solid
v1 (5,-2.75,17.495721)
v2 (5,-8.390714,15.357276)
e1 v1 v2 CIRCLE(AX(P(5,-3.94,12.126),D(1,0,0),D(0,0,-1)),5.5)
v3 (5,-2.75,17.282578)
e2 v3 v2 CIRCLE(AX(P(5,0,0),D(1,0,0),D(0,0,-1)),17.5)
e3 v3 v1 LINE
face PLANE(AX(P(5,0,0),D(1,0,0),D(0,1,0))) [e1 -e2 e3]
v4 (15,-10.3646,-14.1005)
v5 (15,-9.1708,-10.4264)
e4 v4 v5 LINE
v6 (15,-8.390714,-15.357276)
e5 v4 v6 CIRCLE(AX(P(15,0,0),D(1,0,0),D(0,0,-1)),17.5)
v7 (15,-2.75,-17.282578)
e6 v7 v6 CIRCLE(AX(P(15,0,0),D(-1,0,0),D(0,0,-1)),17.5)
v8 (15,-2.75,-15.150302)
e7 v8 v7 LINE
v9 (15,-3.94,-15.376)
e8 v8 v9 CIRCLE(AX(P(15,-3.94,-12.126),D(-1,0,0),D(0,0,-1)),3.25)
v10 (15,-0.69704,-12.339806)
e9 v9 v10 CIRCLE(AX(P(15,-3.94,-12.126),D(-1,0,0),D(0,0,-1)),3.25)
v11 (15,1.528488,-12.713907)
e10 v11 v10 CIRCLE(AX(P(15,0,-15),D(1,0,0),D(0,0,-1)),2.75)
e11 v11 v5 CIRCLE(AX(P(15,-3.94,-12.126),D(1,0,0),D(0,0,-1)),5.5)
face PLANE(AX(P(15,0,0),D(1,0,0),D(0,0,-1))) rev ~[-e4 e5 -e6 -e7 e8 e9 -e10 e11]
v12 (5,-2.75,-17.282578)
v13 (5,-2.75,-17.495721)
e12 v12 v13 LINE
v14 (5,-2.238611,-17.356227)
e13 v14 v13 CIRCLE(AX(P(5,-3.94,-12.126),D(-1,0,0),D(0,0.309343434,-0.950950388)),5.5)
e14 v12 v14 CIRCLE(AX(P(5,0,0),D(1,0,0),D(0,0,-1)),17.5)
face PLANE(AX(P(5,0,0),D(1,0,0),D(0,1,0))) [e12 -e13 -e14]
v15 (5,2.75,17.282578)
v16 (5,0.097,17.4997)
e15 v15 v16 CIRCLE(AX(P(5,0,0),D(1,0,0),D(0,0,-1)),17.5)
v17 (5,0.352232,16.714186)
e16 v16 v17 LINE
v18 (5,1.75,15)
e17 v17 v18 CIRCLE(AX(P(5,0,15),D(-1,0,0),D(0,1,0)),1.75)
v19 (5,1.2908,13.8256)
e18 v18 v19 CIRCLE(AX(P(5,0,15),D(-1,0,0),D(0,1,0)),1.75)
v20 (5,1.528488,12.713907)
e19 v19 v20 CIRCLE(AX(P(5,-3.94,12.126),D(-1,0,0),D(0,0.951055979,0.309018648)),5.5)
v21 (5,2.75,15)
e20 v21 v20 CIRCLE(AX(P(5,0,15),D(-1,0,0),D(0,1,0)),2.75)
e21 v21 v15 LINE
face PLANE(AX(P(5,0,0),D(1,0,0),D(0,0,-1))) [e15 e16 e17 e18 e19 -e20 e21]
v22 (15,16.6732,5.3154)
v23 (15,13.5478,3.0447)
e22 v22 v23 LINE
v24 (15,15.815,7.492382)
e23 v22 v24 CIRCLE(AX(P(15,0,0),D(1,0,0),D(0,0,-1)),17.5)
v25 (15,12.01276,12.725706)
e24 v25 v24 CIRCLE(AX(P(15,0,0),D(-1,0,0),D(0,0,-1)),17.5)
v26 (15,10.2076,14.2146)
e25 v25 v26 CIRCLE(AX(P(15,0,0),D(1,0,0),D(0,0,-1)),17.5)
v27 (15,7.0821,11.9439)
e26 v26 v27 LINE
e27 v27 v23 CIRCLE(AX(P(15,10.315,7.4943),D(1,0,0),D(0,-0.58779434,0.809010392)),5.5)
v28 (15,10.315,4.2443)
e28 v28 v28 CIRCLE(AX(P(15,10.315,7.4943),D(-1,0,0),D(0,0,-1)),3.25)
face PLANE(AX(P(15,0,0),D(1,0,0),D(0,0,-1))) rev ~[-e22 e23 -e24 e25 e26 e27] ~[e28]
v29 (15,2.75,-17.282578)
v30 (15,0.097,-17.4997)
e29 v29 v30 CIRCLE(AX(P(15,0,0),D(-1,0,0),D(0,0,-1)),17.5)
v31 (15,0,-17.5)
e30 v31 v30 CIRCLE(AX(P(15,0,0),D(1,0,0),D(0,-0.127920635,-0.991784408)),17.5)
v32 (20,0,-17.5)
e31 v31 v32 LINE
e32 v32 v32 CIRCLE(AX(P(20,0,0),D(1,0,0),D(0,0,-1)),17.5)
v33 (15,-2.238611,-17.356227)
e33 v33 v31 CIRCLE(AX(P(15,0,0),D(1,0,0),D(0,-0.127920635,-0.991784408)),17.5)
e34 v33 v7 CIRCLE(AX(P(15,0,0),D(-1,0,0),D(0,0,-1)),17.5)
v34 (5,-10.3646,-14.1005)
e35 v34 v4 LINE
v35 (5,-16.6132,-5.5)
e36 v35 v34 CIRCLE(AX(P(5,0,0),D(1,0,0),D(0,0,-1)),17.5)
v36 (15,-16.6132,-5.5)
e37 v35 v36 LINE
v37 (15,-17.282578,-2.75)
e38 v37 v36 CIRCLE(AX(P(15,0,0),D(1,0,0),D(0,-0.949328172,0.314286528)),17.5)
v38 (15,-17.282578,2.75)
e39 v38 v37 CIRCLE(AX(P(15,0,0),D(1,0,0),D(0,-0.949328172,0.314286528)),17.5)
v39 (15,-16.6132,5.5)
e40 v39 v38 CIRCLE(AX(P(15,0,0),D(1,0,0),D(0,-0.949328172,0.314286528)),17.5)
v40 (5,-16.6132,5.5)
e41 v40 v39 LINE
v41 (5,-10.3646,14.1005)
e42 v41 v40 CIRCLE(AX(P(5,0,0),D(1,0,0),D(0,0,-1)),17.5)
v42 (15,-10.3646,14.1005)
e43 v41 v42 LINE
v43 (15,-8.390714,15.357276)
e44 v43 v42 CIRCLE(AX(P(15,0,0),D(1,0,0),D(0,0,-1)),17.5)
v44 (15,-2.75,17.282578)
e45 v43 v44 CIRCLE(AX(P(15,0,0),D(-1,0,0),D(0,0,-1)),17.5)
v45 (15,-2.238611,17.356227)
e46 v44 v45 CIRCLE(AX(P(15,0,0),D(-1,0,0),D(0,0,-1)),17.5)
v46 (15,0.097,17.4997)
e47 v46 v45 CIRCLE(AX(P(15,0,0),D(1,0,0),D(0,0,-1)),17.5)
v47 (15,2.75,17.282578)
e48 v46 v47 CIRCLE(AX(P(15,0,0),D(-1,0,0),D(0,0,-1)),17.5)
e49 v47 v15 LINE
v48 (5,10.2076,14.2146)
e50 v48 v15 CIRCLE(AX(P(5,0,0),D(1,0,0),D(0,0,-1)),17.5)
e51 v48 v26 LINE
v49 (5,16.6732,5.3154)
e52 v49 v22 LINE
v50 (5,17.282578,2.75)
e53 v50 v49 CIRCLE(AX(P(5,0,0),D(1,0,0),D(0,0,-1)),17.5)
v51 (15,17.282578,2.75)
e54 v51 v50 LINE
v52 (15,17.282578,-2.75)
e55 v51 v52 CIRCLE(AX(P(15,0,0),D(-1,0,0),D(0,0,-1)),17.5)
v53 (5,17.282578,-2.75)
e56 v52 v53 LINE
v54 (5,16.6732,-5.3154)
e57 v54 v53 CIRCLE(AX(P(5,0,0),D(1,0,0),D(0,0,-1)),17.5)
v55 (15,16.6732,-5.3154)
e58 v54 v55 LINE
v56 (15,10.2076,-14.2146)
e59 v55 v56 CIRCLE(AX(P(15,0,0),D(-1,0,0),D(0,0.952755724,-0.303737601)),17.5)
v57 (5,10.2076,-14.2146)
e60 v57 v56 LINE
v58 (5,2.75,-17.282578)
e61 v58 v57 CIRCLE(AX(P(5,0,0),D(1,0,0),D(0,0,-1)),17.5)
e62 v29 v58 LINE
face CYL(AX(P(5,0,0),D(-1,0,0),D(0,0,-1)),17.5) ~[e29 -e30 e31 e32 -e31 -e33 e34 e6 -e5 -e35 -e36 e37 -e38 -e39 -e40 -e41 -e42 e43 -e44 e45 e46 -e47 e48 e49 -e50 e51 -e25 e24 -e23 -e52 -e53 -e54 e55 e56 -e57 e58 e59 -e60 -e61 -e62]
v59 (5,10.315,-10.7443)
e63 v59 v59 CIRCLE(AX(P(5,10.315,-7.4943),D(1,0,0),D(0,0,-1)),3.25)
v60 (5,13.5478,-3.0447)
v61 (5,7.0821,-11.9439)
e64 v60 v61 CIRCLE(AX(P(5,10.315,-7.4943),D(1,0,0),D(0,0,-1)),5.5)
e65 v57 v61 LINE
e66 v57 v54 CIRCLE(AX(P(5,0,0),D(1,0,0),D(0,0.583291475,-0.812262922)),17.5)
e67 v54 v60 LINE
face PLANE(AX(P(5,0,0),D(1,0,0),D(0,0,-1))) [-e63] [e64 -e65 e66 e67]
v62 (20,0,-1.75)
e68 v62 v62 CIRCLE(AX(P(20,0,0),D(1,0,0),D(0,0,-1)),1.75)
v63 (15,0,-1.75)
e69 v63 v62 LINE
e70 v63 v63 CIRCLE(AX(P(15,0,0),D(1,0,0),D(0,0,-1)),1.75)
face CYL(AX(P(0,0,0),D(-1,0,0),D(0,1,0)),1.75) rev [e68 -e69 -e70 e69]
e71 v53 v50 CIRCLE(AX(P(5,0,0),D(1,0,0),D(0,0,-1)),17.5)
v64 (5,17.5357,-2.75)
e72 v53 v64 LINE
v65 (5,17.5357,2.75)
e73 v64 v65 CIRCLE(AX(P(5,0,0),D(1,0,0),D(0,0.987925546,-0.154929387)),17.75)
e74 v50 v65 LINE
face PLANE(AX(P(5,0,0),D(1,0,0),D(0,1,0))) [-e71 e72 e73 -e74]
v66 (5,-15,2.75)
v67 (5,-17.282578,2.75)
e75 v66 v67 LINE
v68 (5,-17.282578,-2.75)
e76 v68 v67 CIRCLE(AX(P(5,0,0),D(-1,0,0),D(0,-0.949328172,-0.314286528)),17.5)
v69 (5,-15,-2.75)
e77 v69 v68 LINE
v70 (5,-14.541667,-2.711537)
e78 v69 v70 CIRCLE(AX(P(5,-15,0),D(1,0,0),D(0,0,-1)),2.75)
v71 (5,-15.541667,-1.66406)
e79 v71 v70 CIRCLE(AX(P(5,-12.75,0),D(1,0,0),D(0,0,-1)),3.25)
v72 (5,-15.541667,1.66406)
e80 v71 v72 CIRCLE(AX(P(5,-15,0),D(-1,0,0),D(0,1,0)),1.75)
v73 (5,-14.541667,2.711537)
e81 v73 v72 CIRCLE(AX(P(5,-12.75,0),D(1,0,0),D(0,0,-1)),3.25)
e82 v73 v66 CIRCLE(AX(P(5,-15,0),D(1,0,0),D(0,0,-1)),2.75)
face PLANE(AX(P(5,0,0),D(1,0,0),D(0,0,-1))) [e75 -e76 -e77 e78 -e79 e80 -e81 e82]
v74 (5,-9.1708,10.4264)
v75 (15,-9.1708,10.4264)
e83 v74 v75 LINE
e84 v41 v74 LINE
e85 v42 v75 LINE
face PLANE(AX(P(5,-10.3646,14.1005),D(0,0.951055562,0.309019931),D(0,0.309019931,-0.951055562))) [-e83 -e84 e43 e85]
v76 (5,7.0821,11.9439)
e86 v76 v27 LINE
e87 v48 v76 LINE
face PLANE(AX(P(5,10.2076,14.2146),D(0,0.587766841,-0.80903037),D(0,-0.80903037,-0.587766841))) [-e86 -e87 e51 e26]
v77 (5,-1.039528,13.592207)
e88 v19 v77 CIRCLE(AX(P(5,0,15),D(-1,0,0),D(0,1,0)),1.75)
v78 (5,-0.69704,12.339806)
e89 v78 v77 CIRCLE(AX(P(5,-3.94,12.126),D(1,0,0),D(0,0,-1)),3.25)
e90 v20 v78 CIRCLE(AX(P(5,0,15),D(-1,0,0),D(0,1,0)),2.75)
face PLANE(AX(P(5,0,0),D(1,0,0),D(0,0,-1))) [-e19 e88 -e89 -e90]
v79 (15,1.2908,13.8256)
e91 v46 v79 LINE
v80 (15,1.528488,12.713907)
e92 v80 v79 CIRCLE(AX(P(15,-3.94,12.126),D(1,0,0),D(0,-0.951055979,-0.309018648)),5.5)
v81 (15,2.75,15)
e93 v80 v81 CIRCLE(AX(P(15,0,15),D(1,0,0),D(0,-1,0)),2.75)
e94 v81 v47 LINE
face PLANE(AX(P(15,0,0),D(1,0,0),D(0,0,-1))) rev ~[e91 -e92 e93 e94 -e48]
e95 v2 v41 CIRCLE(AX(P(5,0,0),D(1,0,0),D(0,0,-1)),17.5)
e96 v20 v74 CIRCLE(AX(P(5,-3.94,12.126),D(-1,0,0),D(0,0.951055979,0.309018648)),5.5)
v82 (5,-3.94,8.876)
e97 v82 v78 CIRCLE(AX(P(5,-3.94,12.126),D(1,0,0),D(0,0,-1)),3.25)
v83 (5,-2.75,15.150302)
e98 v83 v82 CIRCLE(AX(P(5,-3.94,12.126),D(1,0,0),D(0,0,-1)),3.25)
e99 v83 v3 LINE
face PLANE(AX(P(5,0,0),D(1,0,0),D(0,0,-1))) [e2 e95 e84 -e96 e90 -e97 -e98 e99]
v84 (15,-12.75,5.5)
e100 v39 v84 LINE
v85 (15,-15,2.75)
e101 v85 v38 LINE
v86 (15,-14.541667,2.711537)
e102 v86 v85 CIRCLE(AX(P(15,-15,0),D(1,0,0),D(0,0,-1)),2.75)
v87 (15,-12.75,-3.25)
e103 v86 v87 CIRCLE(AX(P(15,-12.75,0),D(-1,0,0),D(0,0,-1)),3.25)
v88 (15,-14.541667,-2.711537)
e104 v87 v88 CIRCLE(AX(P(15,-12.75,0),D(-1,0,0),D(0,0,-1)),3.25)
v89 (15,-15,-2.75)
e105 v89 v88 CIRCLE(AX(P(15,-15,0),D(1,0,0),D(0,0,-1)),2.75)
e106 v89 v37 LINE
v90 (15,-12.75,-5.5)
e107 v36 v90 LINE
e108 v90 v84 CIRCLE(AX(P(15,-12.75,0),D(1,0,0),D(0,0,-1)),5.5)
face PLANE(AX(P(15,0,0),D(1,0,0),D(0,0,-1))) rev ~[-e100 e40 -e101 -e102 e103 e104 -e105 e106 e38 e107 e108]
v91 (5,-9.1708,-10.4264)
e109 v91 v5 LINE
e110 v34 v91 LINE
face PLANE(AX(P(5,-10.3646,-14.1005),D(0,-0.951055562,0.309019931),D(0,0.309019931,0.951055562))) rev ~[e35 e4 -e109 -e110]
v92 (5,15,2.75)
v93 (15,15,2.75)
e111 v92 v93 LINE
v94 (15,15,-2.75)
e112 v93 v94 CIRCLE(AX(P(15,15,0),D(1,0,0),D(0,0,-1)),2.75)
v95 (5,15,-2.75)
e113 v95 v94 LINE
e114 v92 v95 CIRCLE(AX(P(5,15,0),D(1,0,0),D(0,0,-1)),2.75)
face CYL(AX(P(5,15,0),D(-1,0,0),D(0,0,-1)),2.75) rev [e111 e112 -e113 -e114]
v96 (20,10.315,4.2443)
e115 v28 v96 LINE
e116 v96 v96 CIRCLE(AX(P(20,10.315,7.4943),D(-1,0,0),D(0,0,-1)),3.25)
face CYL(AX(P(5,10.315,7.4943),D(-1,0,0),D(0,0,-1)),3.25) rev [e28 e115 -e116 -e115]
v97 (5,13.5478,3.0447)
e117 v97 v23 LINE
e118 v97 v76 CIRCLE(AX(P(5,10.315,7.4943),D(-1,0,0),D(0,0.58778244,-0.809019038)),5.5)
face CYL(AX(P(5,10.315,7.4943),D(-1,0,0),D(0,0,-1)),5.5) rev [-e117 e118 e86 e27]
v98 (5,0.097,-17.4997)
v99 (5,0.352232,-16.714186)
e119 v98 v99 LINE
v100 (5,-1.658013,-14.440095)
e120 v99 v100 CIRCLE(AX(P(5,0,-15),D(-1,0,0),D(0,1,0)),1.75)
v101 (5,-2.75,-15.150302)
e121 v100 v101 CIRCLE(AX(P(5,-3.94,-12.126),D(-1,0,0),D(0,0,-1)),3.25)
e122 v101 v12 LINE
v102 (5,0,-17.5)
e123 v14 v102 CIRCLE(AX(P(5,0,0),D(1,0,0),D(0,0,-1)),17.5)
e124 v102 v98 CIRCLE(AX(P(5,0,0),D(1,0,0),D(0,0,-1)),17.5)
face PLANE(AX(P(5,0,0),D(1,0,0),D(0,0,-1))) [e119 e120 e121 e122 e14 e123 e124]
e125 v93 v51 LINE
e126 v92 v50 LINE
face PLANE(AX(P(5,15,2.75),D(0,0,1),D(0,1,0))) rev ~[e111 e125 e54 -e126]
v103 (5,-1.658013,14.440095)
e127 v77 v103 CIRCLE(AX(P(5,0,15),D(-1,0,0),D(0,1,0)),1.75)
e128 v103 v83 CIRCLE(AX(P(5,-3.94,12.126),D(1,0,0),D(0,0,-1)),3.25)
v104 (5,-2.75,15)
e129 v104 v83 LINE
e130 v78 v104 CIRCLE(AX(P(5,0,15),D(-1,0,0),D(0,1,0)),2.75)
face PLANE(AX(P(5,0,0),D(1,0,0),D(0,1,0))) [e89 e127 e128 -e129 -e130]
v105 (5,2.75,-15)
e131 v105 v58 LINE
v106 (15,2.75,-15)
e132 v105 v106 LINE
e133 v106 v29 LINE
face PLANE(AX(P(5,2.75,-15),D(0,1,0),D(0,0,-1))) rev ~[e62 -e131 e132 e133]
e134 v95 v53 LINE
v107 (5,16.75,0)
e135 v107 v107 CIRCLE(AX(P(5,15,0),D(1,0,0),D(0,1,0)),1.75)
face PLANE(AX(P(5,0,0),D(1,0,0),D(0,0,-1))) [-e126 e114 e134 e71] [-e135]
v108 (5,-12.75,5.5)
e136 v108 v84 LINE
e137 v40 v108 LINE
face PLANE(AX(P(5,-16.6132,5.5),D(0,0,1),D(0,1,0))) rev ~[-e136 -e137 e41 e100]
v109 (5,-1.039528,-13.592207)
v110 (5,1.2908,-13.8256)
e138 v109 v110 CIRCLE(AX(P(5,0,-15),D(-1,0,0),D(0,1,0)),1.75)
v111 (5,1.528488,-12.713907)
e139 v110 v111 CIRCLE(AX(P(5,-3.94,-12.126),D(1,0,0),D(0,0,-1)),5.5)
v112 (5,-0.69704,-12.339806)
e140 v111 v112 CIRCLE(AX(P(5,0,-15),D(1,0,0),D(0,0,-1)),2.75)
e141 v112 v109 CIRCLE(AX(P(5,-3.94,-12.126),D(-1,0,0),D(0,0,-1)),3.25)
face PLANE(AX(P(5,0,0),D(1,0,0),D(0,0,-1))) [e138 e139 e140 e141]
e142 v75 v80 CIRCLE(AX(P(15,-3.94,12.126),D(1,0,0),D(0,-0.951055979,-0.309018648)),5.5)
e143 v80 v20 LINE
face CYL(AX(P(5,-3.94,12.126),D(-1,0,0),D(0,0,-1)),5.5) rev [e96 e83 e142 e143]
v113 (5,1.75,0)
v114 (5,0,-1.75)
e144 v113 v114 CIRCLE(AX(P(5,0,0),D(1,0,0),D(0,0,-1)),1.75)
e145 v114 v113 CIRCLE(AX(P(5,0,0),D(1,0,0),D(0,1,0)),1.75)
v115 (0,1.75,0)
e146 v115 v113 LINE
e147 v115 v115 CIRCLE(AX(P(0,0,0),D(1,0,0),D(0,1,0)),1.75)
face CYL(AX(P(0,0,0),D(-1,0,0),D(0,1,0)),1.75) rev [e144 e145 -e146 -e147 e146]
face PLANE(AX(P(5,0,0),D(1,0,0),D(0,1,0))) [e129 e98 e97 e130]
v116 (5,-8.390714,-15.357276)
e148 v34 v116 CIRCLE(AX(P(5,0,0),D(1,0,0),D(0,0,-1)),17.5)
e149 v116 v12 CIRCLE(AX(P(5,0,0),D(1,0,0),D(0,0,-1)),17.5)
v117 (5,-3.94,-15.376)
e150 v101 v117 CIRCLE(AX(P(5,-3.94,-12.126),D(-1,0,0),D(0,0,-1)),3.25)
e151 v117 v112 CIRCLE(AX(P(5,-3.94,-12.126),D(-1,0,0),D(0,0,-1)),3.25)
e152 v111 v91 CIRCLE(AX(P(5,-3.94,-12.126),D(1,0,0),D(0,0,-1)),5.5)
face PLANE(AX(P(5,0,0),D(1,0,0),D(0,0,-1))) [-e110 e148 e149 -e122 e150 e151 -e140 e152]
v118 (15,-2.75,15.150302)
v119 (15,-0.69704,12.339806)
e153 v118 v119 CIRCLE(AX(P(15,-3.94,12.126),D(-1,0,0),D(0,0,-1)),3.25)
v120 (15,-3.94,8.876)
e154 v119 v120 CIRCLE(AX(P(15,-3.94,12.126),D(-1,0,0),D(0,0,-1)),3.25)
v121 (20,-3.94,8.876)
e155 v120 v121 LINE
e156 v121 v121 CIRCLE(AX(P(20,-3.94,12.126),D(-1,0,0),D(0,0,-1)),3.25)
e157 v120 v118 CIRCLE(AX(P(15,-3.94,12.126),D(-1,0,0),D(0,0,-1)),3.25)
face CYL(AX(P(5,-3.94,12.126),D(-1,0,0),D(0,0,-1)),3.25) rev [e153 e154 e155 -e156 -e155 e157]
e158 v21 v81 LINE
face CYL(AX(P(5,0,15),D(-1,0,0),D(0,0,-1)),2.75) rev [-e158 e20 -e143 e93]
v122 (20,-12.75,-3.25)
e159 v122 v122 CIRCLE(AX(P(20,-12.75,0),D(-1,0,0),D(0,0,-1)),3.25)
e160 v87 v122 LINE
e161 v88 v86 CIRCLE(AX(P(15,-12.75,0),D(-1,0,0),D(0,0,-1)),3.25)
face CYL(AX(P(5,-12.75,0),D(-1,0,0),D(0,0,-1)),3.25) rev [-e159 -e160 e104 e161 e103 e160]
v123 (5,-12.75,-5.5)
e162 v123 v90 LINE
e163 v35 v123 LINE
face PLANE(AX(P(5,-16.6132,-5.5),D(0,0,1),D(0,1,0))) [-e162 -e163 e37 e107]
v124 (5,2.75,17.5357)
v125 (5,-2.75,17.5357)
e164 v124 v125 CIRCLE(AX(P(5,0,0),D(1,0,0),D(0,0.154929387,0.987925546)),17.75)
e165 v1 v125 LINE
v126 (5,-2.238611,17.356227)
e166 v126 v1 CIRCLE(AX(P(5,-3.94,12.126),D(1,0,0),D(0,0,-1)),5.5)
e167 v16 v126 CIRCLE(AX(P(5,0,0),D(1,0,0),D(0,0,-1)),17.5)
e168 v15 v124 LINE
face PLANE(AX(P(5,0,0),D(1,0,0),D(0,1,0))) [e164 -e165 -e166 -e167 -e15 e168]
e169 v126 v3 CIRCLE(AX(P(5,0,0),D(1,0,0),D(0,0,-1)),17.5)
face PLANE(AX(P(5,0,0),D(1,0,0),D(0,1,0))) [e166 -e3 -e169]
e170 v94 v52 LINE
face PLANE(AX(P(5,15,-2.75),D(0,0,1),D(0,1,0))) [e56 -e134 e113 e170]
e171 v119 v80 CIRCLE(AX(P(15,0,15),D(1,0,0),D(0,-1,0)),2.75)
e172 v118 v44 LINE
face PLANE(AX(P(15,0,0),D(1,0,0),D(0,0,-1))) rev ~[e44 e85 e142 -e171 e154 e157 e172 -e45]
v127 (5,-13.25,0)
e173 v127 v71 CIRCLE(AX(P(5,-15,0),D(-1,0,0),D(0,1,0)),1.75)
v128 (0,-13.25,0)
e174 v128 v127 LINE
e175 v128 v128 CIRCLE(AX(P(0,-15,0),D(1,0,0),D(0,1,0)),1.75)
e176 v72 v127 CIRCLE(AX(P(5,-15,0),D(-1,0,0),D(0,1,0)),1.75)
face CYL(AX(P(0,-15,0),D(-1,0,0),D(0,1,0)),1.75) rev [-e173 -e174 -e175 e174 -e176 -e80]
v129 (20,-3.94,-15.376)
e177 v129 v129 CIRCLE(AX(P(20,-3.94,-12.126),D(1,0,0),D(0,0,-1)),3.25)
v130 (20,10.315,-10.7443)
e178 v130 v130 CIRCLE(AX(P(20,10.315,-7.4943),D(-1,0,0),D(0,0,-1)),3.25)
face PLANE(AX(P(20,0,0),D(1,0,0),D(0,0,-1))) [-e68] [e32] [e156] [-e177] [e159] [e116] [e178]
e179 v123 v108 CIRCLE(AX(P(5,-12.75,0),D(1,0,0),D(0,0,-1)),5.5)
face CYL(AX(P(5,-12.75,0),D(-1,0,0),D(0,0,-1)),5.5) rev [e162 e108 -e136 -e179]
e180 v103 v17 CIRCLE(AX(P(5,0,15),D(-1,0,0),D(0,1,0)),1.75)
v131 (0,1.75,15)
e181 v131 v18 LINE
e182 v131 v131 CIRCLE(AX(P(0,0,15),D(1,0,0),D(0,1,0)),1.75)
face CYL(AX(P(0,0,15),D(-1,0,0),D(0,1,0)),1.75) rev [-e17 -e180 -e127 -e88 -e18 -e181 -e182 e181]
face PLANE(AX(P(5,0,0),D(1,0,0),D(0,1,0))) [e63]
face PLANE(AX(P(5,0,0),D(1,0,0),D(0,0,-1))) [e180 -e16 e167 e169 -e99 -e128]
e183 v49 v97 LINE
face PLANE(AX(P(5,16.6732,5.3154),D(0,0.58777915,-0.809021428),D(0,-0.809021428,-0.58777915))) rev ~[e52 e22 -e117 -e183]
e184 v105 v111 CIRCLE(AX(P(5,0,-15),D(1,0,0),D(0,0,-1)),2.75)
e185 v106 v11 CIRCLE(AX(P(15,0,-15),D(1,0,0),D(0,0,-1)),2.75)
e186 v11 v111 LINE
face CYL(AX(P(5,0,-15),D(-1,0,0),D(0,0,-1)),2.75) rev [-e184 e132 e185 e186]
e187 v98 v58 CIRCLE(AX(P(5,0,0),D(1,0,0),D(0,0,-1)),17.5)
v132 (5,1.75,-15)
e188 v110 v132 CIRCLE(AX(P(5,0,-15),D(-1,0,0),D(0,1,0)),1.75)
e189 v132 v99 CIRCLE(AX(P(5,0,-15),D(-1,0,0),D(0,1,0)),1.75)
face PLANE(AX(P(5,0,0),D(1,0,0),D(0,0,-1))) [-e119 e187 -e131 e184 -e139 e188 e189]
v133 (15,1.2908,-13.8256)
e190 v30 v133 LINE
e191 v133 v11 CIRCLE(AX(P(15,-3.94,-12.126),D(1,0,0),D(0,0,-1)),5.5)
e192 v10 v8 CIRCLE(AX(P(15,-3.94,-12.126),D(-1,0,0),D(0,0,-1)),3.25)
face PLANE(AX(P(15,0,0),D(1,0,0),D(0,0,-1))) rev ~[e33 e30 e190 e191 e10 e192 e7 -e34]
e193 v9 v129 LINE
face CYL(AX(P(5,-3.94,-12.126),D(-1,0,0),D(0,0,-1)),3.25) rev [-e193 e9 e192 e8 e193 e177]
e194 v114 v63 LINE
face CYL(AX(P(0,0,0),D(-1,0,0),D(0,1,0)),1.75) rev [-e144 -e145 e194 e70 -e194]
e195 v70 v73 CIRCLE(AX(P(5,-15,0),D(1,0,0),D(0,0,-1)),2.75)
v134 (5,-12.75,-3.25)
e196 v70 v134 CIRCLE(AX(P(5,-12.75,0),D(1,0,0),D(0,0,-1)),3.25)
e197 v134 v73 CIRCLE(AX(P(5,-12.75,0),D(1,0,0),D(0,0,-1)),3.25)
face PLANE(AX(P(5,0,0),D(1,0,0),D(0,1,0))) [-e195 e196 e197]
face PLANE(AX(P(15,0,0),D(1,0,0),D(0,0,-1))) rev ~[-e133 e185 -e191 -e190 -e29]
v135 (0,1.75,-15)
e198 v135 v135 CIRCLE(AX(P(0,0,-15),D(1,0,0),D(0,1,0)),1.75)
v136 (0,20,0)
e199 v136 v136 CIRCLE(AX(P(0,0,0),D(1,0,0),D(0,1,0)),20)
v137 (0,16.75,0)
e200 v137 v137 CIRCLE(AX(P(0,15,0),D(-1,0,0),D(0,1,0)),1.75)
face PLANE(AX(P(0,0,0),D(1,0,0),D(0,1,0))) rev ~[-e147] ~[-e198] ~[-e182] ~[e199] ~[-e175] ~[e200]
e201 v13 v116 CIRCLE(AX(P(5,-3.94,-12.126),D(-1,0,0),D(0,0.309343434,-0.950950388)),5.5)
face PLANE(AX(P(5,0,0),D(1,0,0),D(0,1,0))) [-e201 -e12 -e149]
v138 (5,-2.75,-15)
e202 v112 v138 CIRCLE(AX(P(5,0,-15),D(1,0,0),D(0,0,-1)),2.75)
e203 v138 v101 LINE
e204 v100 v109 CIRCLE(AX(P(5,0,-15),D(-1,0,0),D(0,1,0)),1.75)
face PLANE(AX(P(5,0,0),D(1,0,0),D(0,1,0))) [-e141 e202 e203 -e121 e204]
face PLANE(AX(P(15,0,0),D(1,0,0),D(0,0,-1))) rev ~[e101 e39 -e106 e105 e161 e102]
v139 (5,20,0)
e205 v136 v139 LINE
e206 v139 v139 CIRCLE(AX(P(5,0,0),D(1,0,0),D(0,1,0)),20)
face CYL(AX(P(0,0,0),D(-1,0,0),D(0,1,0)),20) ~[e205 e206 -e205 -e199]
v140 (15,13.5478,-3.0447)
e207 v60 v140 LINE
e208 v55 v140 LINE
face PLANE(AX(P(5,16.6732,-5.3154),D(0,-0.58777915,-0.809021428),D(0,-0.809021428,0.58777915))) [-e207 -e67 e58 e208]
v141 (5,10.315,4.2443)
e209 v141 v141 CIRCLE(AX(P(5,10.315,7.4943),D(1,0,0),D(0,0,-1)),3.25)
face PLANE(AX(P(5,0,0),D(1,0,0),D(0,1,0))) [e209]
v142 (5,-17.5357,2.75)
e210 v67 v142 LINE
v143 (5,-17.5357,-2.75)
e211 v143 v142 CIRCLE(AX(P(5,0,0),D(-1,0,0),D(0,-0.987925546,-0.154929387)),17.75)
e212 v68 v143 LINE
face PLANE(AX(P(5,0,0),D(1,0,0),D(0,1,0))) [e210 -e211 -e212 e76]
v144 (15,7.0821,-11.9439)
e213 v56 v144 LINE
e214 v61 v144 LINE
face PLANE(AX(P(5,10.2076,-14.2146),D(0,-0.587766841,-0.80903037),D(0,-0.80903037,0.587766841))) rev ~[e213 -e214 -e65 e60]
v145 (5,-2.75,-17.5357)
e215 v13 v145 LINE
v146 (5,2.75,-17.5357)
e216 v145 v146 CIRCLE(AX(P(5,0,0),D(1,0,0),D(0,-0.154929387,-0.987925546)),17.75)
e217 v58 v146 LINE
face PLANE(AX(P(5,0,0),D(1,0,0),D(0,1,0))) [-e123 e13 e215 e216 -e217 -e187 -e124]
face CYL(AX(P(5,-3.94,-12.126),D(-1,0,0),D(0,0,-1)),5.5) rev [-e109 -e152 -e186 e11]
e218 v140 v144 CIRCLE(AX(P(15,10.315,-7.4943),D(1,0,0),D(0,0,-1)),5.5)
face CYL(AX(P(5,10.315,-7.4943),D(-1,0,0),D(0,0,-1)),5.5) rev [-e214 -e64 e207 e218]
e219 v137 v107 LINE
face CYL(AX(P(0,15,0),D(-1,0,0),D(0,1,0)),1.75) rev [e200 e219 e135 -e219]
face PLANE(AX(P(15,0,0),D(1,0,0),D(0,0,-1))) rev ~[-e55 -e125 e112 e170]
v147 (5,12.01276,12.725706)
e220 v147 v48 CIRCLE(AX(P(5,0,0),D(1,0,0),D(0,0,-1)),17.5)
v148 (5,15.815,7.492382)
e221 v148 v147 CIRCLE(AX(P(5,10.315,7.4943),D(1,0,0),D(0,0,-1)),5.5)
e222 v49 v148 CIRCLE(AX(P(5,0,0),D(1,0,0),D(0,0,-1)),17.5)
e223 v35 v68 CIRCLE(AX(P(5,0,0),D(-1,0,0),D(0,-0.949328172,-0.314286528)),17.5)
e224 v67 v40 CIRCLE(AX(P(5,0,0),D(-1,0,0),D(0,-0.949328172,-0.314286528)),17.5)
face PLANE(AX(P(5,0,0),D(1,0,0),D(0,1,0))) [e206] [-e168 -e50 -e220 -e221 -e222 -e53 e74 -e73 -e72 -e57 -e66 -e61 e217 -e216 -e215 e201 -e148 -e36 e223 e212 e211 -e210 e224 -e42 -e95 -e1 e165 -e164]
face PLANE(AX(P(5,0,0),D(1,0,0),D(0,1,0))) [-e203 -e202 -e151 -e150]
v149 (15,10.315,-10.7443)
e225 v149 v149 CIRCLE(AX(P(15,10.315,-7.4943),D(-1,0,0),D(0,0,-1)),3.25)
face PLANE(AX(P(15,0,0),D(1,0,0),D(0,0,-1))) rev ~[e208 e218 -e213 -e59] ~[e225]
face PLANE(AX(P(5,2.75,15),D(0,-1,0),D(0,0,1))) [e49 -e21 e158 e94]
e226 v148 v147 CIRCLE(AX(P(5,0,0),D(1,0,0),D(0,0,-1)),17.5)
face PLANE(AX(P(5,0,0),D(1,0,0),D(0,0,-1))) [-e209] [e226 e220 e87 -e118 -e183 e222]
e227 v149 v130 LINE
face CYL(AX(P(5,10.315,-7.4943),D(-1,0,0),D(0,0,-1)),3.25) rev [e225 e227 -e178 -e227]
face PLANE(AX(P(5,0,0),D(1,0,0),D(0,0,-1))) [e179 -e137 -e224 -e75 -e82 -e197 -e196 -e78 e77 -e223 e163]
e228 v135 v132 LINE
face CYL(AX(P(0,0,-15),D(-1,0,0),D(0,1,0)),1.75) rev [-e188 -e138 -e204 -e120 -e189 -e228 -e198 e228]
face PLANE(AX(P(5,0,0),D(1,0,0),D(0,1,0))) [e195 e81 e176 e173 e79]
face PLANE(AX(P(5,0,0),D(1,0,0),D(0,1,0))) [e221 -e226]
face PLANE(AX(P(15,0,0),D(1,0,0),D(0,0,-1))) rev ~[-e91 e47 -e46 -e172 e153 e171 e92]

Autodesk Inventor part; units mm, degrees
ref_plane "YZ Plane" through (0, 0, 0) normal (1, 0, 0) x (0, 1, 0)
ref_plane "XZ Plane" through (0, 0, 0) normal (0, 1, 0) x (-1, 0, 0)
ref_plane "XY Plane" through (0, 0, 0) normal (0, 0, 1) x (1, 0, 0)
sketch "Sketch1" plane through (0, 0, 0) normal (1, 0, 0) x (0, 1, 0)
  circle A0 centre (0, 0) radius 15
  circle A1 centre (15, 0) radius 1.75
  circle A2 centre (0, 15) radius 1.75
  circle A3 centre (-15, 0) radius 1.75
  circle A4 centre (0, -15) radius 1.75
  circle A5 centre (0, 0) radius 1.75
  circle A6 centre (0, 0) radius 20
  dimension "d0" = 30
  dimension "d1" = 3.5
  dimension "d4" = 360
  dimension "d6" = 3.5
  dimension "d7" = 40
extrude "Extrusion1" add sketch "Sketch1" along normal blind 5 contours A1 A0 A4 A3 A2 | A6
sketch "Sketch2" plane through (5, 0, 0) normal (1, 0, 0) x (0, 0, -1)
  circle A0 centre (0, 0) radius 1.75
  circle A1 centre (0, 0) radius 12.75
  circle A2 centre (0, -12.75) radius 3.25
  circle A3 centre (12.126, -3.94) radius 3.25
  circle A4 centre (7.4943, 10.315) radius 3.25
  circle A5 centre (-7.4943, 10.315) radius 3.25
  circle A6 centre (-12.126, -3.94) radius 3.25
  circle A7 centre (0, 0) radius 1.75 projected
  circle A8 centre (0, 0) radius 17.5
  dimension "d10" = 25.5
  dimension "d11" = 6.5
  dimension "d14" = 360
  dimension "d16" = 35
extrude "Extrusion2" add sketch "Sketch2" along normal blind 15 contours A1 A3 A2 A6 A5 A4 | A8
sketch "Sketch3" plane through (5, 0, 0) normal (1, 0, 0) x (0, 0, -1)
  circle A0 centre (0, -12.75) radius 5.5
  line L0 (0, -12.75) -> (5.5, -12.75)
  line L1 (0, -12.75) -> (-5.5, -12.75)
  circle A1 centre (0, 0) radius 17.5 projected
  line L2 (-5.5, -16.6132) -> (-5.5, -12.75)
  line L3 (5.5, -16.6132) -> (5.5, -12.75)
  circle A2 centre (0, 0) radius 1.75 projected
  circle A3 centre (0, 0) radius 17.5
  line L4 (12.126, -3.94) -> (13.8256, 1.2908)
  line L5 (12.126, -3.94) -> (10.4264, -9.1708)
  circle A4 centre (12.126, -3.94) radius 5.5
  line L6 (17.4997, 0.097) -> (13.8256, 1.2908)
  line L7 (14.1005, -10.3646) -> (10.4264, -9.1708)
  line L8 (7.4943, 10.315) -> (3.0447, 13.5478)
  line L9 (7.4943, 10.315) -> (11.9439, 7.0821)
  circle A5 centre (7.4943, 10.315) radius 5.5
  line L10 (5.3154, 16.6732) -> (3.0447, 13.5478)
  line L11 (14.2146, 10.2076) -> (11.9439, 7.0821)
  line L12 (-7.4943, 10.315) -> (-11.9439, 7.0821)
  line L13 (-7.4943, 10.315) -> (-3.0447, 13.5478)
  circle A6 centre (-7.4943, 10.315) radius 5.5
  line L14 (-14.2146, 10.2076) -> (-11.9439, 7.0821)
  line L15 (-5.3154, 16.6732) -> (-3.0447, 13.5478)
  line L16 (-12.126, -3.94) -> (-10.4264, -9.1708)
  line L17 (-12.126, -3.94) -> (-13.8256, 1.2908)
  circle A7 centre (-12.126, -3.94) radius 5.5
  line L18 (-14.1005, -10.3646) -> (-10.4264, -9.1708)
  line L19 (-17.4997, 0.097) -> (-13.8256, 1.2908)
  point P0 (-12.126, -3.94)
  point P1 (15.3573, -8.3906)
  point P2 (17.3562, -2.2387)
  point P3 (-7.4925, 15.815)
  point P4 (-12.7256, 12.0128)
  point P5 (-17.3562, -2.2387)
  point P6 (-15.3573, -8.3906)
  dimension "d19" = 11
  dimension "d22" = 360
extrude "Extrusion3" cut sketch "Sketch3" along normal blind 10 contours L0 L1 A0 | L3 A1 A0 | A0 A1 L1 L0 | A0 A1 L2 | L7 A4 A1 | A1 A7 L18 | A4 L5 L4 A1 | A1 A4 | A4 L4 L5 | A7 A1 | A1 A7 L17 L16 | L16 L17 A7 | A4 L6 A1 | A1 L19 A7 | L11 A5 A1 | A1 A6 L14 | A5 L9 L8 A1 | A5 L8 L9 | A6 A1 | A1 A6 L13 L12 | L12 L13 A6 | A5 L10 A1 | A1 L15 A6
sketch "Sketch4" plane through (5, 0, 0) normal (1, 0, 0) x (0, 0, -1)
  circle A0 centre (0, -15) radius 1.75 projected
  circle A1 centre (0, -15) radius 2.75
  circle A2 centre (15, 0) radius 2.75
  circle A3 centre (0, 15) radius 2.75
  circle A4 centre (-15, 0) radius 2.75
  circle A5 centre (0, 0) radius 1.75 projected
  circle A6 centre (0, 0) radius 17.75
  line L0 (-2.75, -15) -> (-2.75, -17.5357)
  line L1 (2.75, -15) -> (2.75, -17.5357)
  line L2 (15, -2.75) -> (17.5357, -2.75)
  line L3 (15, 2.75) -> (17.5357, 2.75)
  line L4 (2.75, 15) -> (2.75, 17.5357)
  line L5 (-2.75, 15) -> (-2.75, 17.5357)
  line L6 (-15, 2.75) -> (-17.5357, 2.75)
  line L7 (-15, -2.75) -> (-17.5357, -2.75)
  point P0 (2.75, 15)
  dimension "d31" = 35.5
  dimension "d26" = 5.5
  dimension "d29" = 360
  dimension "d34" = 360
extrude "Extrusion4" cut sketch "Sketch4" along normal blind 10 contours A0 | A1 | L1 A6 A1 | A1 A6 L0 | L2 A2 A6 | A6 A4 L7 | A2 | A2 L3 A6 | A6 L6 A4 | A4 | L4 A3 A6 | A6 A3 L5 | A3 | A5
equation "\"BendRadius\" = Thickness"
equation "\"BendReliefWidth\" = Thickness"
equation "\"BendReliefDepth\" = 0.5 * Thickness"
equation "\"CornerReliefSize\" = 4 * Thickness"
equation "\"MinimumRemnant\" = 2 * Thickness"
equation "\"TransitionRadius\" = BendRadius"
equation "\"JacobiRadiusSize\" = BendRadius"
equation "\"GapSize\" = Thickness"
equation "\"Thickness\" = 0.5"
properties part number "EaglePowerCycDriveAdaptor"
